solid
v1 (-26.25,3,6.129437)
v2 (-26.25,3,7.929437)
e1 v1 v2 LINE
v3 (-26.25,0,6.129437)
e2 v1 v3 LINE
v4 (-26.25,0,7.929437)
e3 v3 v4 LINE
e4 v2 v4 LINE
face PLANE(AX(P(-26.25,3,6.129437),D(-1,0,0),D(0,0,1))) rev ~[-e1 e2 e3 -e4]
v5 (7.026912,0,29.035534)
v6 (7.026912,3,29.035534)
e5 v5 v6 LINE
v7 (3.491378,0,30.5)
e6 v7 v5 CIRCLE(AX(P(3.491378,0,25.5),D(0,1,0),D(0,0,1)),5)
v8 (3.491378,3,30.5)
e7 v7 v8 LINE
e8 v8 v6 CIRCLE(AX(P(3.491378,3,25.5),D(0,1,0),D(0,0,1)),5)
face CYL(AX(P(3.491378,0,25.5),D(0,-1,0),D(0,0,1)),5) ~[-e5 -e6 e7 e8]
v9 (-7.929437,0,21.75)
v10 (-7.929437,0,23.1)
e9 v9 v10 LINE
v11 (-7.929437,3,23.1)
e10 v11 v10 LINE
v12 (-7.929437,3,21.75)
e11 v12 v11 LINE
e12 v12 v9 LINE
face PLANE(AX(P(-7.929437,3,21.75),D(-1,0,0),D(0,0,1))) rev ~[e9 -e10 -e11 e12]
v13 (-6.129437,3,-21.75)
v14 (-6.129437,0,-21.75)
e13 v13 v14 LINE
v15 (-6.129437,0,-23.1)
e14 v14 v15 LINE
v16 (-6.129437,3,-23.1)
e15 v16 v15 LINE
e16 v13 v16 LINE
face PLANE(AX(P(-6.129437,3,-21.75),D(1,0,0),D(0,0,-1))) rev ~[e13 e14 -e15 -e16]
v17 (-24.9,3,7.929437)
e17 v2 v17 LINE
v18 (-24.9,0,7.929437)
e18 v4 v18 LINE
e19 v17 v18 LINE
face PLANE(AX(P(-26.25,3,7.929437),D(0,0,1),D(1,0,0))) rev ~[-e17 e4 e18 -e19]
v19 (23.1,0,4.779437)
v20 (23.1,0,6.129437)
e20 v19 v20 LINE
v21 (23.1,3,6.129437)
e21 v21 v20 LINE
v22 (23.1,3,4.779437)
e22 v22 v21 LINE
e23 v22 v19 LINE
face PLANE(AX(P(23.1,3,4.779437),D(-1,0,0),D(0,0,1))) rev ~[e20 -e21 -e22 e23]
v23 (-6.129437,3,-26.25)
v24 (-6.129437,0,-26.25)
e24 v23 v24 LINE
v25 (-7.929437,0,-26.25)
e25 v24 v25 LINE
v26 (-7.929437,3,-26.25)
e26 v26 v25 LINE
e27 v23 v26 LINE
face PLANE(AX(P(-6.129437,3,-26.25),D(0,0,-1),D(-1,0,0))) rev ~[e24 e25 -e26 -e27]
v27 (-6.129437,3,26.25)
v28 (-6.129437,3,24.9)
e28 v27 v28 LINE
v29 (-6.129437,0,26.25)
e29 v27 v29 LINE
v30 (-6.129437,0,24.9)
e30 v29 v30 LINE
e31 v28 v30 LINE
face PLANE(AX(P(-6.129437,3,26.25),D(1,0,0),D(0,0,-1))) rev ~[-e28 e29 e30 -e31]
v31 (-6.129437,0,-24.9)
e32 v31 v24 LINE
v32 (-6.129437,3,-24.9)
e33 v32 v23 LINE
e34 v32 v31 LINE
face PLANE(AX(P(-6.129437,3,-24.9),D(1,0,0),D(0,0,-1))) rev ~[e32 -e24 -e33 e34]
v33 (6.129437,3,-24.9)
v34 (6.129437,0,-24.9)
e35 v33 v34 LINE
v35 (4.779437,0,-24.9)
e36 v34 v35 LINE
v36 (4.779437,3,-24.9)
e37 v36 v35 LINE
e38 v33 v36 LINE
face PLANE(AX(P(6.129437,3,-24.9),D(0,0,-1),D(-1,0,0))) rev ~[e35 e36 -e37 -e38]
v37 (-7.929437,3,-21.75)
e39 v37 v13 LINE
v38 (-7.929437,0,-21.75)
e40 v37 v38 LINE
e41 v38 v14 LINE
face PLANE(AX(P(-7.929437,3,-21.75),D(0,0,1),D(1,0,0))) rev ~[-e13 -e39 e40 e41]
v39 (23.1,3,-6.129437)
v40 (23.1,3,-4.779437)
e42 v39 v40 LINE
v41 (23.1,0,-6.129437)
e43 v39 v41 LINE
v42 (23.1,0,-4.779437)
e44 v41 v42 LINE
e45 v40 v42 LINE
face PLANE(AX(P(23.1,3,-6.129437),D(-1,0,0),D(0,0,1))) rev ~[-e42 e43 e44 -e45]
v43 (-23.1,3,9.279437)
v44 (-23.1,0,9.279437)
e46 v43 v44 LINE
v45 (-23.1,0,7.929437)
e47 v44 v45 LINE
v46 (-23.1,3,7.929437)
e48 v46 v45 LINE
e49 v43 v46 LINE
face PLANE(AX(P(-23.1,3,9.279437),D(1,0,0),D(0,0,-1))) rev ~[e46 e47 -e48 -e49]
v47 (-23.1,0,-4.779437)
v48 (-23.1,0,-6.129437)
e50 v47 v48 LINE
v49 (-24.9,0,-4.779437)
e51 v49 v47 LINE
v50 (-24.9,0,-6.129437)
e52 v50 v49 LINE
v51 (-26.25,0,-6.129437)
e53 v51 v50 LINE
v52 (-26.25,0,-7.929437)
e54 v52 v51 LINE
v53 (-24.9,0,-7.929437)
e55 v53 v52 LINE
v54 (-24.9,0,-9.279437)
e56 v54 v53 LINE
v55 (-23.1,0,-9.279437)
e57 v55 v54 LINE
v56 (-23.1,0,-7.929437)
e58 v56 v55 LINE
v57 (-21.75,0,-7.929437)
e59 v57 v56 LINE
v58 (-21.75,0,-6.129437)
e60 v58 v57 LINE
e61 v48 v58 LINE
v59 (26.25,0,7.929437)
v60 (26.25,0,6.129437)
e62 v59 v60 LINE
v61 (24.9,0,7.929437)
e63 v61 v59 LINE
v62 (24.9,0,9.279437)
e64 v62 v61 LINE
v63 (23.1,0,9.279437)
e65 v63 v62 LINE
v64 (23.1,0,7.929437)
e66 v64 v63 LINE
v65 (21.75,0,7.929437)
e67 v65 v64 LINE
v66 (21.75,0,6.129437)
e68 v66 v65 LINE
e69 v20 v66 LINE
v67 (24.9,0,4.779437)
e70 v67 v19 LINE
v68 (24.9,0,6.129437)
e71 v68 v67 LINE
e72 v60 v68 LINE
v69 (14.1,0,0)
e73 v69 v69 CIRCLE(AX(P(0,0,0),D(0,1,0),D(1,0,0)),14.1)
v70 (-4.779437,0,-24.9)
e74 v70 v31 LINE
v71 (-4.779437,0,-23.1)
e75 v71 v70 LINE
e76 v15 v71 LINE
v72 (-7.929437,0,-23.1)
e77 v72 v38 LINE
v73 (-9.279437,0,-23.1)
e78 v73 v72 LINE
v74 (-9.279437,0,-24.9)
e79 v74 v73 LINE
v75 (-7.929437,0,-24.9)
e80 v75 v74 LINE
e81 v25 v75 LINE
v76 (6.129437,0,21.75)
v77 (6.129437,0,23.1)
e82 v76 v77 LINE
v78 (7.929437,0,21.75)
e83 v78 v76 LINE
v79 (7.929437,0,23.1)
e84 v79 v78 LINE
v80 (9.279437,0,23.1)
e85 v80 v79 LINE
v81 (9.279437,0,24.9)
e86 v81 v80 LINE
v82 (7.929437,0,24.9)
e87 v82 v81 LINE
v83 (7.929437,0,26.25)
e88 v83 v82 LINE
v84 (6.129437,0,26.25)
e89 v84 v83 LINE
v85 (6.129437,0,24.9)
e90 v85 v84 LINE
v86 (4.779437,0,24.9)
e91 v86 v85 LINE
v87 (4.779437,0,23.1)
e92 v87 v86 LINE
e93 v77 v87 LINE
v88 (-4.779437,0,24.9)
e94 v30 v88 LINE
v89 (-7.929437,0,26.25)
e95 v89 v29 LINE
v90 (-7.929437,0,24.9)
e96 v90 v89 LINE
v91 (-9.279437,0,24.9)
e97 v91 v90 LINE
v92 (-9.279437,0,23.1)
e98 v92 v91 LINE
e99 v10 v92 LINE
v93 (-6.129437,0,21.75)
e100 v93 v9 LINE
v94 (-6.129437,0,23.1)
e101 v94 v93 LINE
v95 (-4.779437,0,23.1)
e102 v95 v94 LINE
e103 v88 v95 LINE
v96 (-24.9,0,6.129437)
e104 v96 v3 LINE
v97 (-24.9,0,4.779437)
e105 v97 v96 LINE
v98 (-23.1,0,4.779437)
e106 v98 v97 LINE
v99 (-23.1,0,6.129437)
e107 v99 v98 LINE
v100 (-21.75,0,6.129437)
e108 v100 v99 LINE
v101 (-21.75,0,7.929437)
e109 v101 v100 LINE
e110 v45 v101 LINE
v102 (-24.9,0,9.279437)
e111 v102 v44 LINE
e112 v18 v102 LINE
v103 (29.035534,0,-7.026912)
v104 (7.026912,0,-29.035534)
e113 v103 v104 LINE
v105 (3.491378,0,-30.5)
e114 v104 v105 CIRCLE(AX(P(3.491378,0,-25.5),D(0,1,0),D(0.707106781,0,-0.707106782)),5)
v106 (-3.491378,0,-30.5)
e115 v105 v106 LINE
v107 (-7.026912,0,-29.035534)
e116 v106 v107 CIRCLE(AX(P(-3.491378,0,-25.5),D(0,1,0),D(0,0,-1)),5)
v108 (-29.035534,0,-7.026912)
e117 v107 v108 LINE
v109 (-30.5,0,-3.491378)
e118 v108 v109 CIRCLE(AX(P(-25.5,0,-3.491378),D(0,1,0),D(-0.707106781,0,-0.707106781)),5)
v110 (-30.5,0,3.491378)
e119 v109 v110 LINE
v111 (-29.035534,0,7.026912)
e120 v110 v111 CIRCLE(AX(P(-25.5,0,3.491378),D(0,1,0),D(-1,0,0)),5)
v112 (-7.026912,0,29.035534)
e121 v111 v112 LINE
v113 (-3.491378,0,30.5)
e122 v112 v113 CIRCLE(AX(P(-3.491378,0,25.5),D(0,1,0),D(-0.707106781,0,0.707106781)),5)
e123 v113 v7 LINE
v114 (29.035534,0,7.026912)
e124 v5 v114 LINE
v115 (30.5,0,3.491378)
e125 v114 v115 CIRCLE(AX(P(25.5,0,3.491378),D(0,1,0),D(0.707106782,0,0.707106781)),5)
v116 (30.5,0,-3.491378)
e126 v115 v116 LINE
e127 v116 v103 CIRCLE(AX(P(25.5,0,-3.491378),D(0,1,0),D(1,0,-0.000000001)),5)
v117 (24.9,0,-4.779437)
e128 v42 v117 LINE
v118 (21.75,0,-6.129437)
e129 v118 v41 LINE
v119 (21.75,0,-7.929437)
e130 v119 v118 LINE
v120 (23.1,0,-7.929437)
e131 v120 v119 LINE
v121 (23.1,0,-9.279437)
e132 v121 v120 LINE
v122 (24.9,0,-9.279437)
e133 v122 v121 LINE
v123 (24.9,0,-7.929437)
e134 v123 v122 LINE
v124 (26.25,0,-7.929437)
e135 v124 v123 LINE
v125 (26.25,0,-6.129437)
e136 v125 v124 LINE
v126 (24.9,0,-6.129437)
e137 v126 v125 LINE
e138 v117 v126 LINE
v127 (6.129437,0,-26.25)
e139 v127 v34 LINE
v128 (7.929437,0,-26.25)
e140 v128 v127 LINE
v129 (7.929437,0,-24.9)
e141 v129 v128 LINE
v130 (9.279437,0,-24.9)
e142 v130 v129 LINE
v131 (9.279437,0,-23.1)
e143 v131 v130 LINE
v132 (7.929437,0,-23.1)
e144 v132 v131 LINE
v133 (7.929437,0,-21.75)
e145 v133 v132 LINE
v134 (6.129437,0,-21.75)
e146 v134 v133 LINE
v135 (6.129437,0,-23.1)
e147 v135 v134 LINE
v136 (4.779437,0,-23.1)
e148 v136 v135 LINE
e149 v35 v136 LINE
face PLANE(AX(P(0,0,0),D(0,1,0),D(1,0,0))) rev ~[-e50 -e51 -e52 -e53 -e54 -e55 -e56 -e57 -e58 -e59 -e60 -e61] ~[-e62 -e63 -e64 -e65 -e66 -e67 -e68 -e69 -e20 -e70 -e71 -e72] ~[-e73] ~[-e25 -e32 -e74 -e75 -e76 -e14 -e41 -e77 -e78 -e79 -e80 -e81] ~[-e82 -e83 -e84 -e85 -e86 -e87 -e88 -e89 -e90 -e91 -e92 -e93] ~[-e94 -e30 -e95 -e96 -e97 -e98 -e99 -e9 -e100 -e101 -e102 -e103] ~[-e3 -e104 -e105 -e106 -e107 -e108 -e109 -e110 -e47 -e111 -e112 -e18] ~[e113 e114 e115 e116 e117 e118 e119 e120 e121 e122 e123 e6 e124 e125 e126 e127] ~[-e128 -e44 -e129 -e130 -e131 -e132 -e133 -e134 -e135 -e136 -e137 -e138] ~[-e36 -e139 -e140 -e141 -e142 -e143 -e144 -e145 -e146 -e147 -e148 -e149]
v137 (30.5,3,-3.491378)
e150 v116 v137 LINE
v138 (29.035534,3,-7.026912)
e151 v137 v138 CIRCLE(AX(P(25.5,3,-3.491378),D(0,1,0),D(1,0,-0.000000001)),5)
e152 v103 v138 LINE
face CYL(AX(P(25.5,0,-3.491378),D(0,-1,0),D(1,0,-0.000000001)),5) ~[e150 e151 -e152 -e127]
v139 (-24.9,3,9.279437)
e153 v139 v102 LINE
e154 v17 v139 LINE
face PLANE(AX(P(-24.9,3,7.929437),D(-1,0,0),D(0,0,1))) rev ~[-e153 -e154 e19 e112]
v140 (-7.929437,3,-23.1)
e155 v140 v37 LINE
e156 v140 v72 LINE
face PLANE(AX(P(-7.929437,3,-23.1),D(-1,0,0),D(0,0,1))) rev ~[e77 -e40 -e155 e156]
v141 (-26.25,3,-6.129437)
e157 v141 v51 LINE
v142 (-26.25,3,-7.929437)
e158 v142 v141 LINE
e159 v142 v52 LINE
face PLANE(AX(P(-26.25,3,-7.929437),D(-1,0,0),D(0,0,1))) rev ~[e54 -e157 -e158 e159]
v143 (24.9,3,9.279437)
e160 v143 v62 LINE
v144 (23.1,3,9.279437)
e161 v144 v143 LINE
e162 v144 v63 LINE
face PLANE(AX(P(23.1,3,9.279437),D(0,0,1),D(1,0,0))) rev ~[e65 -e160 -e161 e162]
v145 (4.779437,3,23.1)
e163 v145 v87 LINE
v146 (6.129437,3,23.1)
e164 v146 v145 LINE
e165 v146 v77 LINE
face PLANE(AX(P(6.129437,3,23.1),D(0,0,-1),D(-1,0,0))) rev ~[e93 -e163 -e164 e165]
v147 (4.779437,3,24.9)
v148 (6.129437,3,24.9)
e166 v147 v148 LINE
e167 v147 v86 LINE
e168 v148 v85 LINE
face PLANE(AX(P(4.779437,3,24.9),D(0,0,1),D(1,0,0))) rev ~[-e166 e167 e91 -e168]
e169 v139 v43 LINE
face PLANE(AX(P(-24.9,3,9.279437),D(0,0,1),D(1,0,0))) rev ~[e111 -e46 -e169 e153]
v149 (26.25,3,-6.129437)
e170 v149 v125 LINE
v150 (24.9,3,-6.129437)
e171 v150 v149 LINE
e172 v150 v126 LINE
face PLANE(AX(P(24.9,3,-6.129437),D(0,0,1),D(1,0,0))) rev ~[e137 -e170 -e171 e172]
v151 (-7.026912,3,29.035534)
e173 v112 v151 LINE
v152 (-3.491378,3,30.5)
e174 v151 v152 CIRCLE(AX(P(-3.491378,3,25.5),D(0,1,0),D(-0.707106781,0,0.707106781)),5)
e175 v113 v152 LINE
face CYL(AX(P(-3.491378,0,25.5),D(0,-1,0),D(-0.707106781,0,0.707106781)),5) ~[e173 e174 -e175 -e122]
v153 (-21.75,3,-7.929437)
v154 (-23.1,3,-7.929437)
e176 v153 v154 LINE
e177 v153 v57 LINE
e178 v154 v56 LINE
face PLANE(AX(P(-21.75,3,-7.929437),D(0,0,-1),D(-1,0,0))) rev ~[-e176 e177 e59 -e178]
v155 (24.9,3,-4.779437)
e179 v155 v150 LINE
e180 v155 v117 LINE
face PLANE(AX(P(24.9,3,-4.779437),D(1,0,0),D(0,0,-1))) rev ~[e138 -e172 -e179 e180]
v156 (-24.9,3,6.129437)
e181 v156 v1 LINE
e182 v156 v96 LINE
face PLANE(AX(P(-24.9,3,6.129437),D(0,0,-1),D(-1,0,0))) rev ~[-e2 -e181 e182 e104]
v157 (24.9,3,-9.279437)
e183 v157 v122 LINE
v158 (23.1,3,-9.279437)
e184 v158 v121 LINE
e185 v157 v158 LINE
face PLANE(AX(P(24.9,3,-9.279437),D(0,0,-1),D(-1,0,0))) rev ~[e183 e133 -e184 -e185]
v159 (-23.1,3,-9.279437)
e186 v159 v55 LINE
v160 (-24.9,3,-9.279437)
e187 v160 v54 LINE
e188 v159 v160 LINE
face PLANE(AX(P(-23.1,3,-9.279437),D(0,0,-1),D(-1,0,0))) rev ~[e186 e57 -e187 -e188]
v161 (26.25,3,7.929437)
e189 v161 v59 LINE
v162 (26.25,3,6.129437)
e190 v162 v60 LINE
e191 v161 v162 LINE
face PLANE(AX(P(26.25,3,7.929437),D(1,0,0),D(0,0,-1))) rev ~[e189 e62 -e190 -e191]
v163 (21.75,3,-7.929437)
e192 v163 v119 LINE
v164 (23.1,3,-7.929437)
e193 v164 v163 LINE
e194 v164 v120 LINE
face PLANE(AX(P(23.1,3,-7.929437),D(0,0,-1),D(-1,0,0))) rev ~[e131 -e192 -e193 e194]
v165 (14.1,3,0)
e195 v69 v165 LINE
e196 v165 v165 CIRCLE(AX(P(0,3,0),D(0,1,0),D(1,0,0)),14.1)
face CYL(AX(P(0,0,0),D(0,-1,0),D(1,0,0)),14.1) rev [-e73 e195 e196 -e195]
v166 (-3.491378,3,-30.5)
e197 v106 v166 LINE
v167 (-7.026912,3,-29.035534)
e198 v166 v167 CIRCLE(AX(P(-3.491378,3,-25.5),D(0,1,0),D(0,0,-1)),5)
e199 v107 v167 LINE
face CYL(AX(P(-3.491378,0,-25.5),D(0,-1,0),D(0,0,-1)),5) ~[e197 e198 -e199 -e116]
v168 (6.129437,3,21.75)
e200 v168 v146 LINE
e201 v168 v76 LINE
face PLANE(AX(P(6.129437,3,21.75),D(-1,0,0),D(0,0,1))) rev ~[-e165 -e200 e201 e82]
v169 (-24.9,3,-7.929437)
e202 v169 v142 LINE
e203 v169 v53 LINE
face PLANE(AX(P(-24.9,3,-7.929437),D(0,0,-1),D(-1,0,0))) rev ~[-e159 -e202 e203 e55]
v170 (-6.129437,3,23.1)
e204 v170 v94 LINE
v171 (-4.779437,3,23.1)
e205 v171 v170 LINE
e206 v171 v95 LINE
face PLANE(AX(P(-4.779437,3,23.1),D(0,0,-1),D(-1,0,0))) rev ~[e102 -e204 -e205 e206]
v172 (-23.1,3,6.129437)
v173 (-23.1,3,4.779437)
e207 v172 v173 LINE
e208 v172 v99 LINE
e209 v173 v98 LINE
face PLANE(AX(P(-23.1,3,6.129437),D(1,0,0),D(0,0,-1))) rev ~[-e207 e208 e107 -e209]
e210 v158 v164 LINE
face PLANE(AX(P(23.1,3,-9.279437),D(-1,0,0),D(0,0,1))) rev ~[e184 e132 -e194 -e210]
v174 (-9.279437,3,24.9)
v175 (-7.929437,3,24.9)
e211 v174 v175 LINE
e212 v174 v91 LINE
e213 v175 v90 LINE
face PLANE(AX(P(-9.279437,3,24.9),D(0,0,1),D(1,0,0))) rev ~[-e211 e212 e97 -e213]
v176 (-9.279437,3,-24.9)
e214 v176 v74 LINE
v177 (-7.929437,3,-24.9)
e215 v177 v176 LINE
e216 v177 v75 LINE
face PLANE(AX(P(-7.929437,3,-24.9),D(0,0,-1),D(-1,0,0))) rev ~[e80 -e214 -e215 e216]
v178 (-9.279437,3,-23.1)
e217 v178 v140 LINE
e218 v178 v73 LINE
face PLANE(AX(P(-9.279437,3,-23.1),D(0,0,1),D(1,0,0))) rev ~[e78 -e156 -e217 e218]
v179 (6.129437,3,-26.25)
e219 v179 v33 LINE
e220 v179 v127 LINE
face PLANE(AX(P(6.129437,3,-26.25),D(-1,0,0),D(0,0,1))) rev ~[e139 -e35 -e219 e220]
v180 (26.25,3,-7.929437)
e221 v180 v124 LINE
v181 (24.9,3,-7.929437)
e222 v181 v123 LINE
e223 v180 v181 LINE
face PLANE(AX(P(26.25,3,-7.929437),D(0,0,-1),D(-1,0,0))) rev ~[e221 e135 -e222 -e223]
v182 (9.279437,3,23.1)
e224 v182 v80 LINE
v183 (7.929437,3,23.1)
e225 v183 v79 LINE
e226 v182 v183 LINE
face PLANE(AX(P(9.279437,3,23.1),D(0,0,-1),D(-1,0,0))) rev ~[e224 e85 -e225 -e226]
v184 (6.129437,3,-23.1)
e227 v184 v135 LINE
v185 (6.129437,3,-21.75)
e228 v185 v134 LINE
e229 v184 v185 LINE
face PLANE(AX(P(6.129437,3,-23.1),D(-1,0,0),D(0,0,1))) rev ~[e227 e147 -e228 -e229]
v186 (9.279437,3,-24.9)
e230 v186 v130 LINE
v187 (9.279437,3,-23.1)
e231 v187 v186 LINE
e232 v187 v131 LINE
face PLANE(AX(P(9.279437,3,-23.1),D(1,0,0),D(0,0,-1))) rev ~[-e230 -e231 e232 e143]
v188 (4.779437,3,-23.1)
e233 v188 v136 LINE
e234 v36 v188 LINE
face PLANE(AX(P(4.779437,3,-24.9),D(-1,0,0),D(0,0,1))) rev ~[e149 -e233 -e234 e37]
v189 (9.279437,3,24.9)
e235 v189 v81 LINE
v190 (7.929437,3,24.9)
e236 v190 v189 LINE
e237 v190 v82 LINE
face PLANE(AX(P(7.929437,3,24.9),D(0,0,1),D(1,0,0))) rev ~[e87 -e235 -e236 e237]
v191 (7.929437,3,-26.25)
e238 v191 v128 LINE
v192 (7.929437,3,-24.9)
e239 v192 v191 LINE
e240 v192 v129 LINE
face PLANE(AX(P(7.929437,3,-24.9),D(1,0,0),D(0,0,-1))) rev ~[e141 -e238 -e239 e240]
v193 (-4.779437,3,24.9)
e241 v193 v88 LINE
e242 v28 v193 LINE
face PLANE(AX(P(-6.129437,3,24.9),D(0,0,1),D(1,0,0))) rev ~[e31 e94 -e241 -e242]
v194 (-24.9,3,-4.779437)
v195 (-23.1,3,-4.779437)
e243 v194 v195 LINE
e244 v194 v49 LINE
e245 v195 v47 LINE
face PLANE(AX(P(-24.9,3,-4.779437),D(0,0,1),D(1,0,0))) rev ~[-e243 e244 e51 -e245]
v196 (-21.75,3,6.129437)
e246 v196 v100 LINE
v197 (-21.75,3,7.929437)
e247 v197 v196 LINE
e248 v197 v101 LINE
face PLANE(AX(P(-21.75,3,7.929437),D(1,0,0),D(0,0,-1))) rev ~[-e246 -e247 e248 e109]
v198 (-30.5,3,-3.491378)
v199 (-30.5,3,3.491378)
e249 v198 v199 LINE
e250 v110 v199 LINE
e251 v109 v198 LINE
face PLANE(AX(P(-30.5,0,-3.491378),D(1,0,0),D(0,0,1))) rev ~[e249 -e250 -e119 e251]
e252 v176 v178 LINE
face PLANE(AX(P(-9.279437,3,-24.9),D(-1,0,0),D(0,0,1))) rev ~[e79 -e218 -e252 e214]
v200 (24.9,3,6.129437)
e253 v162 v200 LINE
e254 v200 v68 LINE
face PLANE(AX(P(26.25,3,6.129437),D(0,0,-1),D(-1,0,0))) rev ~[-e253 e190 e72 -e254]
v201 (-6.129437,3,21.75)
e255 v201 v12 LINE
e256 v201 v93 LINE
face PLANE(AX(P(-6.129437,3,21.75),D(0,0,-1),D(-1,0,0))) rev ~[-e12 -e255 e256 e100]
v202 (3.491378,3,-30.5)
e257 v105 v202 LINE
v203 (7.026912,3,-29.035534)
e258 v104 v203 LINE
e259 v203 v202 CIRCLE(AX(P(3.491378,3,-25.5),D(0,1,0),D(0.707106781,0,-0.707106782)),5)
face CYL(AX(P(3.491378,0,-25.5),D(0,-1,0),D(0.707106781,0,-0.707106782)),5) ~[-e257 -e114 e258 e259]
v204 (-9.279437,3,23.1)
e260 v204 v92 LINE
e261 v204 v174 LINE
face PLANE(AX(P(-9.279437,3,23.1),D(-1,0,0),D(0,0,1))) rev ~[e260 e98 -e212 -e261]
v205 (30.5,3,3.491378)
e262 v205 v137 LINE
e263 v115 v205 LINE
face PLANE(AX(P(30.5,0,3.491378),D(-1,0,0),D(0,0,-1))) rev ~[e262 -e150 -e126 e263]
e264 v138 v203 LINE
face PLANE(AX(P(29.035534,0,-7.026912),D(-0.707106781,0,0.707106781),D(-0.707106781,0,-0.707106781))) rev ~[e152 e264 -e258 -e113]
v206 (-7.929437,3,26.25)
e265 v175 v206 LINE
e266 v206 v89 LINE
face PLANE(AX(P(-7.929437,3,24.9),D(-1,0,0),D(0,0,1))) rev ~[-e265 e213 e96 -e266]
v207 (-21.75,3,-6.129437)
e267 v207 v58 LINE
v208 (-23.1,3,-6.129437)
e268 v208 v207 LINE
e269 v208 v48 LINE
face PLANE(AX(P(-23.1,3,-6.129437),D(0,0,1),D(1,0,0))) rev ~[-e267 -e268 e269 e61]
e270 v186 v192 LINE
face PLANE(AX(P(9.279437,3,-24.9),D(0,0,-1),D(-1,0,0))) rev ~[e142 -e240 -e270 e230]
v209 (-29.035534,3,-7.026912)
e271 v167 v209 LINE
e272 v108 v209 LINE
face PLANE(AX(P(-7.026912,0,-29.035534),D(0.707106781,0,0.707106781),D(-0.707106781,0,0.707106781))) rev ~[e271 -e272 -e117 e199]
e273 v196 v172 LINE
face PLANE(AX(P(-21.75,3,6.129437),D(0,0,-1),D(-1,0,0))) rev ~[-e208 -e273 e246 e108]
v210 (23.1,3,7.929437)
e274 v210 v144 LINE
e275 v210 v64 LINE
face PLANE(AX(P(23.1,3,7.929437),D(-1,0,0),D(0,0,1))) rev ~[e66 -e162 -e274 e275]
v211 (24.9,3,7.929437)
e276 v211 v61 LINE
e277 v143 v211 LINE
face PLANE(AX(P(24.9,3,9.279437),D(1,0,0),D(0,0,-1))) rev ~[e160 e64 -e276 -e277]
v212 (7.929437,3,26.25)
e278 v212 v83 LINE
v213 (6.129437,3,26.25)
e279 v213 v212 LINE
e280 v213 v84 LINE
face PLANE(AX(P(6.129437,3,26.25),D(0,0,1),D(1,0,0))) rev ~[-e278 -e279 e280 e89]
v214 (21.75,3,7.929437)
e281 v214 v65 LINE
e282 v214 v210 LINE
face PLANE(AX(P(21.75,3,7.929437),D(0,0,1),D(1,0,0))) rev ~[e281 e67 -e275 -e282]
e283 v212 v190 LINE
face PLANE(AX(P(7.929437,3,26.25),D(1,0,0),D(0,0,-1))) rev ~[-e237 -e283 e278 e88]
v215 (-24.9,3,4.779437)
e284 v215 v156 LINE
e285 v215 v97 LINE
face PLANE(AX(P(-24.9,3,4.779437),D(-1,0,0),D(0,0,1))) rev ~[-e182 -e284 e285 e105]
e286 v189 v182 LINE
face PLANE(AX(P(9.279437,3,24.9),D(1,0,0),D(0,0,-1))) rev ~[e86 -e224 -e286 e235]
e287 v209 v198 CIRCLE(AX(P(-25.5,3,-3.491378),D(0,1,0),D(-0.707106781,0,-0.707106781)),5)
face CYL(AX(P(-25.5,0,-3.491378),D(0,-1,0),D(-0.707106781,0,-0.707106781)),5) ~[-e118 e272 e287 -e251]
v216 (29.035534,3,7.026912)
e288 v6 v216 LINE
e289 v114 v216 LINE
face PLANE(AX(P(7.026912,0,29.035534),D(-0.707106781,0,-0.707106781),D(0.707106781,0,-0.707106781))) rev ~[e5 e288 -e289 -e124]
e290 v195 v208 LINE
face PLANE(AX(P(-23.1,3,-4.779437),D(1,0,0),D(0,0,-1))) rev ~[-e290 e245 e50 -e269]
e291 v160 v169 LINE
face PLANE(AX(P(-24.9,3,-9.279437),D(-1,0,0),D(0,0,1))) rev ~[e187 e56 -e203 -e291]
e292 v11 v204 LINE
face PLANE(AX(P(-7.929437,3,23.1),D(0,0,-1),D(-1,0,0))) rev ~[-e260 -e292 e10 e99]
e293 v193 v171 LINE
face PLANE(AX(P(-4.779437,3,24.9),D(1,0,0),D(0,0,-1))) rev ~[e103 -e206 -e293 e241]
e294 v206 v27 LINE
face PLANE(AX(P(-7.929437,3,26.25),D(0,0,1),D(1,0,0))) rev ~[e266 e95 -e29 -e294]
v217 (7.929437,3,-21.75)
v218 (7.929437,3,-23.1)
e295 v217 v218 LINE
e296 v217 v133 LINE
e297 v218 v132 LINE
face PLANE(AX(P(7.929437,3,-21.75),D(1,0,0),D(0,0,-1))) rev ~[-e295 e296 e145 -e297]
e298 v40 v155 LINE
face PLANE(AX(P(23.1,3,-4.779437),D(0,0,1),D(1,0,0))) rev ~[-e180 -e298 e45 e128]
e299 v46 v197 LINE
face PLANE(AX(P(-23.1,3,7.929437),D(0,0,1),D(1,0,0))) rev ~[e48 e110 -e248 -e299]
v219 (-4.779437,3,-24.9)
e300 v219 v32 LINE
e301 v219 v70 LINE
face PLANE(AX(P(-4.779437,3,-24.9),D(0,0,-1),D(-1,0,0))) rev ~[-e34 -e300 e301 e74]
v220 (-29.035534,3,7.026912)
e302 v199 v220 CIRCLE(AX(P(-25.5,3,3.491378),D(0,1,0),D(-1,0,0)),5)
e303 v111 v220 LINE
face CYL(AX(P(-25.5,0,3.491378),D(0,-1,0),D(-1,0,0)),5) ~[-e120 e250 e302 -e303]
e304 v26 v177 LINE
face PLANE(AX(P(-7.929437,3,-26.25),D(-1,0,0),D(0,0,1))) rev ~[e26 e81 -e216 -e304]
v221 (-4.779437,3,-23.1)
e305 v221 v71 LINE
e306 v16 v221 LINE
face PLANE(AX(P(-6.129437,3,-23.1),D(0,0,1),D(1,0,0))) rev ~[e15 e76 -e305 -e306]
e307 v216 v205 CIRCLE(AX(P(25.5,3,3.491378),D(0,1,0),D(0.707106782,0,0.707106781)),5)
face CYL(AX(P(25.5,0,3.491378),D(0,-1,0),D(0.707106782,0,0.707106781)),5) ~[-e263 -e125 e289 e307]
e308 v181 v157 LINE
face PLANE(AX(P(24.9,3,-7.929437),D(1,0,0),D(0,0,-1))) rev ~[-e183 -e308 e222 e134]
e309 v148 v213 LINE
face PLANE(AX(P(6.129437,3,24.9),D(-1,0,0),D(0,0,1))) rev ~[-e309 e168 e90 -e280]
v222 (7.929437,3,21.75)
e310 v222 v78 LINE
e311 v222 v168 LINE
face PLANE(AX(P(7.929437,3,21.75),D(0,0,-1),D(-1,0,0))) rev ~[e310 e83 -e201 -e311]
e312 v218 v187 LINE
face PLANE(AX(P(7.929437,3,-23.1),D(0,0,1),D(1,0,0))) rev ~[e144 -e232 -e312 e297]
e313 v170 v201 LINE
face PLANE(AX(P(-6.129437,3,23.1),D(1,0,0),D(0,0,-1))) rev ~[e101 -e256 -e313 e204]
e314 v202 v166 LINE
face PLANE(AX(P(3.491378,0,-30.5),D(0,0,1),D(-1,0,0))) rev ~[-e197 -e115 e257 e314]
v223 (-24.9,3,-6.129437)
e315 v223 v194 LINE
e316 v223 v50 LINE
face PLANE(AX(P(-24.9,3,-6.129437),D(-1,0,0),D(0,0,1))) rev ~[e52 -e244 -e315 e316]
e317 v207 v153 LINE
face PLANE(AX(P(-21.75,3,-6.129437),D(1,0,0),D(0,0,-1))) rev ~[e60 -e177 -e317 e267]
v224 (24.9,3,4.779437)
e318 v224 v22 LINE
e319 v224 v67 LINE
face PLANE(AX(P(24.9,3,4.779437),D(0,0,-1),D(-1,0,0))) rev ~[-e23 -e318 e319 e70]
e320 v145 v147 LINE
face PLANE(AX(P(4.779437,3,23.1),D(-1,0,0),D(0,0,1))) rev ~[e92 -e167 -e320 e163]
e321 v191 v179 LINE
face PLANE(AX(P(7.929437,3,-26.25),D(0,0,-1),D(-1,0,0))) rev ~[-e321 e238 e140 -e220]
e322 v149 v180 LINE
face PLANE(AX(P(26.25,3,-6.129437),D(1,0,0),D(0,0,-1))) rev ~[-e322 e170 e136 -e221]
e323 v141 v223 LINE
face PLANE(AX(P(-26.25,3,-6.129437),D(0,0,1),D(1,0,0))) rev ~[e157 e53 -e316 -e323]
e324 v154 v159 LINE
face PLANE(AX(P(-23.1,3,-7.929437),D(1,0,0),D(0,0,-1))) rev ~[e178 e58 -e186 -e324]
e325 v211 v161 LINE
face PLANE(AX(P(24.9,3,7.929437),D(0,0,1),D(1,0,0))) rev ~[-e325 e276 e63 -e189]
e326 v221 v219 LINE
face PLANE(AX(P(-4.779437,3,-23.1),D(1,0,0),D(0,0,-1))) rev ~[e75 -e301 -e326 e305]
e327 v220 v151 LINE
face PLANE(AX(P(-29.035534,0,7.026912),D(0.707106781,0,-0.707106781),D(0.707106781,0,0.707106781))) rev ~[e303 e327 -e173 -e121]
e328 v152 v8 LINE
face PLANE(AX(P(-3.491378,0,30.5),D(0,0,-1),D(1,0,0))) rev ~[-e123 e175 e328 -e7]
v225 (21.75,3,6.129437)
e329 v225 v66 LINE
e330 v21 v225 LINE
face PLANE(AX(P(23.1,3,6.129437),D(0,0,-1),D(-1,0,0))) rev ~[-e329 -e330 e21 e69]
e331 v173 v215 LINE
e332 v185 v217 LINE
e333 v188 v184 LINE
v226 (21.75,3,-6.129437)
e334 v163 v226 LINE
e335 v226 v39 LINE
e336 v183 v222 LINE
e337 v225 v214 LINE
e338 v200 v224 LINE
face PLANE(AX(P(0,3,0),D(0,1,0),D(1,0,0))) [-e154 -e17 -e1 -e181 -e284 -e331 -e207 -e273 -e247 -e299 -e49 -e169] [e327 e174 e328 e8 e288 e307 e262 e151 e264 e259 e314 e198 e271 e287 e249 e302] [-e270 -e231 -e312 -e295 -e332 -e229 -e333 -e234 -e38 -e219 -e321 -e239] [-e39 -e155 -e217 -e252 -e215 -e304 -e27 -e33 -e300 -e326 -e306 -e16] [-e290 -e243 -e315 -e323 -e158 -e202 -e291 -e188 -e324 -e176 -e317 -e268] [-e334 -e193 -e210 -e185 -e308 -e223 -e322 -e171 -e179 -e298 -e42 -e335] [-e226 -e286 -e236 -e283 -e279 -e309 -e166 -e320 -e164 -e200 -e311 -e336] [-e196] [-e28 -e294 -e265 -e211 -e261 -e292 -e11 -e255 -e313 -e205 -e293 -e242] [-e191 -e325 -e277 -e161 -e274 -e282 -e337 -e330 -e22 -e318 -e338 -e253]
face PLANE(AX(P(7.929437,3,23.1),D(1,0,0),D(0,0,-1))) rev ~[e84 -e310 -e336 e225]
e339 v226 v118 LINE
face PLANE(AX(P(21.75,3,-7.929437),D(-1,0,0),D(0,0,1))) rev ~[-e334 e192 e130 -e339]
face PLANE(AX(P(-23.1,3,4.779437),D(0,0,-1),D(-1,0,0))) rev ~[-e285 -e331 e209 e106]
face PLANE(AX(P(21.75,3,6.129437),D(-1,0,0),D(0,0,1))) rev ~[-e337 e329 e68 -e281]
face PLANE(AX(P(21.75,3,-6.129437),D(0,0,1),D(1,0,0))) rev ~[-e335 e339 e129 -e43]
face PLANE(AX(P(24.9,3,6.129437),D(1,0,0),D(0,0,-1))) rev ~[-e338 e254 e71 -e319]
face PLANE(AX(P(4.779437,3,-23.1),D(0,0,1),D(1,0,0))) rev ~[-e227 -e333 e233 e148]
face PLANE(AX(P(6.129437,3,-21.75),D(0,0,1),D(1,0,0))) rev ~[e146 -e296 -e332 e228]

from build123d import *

# Parameters (mm, degrees)
SKETCH1_R           = 14.1
BOSS_EXTRUDE1_DEPTH = 3
CUT_EXTRUDE1_DEPTH  = 4


with BuildPart() as part:
    # Sketch1 → Boss-Extrude1 (new body)
    with BuildSketch(Plane(origin=(0, 0, 0), x_dir=(1, 0, 0), z_dir=(0, 1, 0))):
        with BuildLine():
            Line((3.491378029, 30.5), (-3.491378029, 30.5))
            ThreePointArc((-3.491378029, 30.5), (-5.40479519, 30.119397663), (-7.026911935, 29.035533906))
            Line((-7.026911935, 29.035533906), (-29.035533906, 7.026911935))
            ThreePointArc((-29.035533906, 7.026911935), (-30.119397663, 5.40479519), (-30.5, 3.491378029))
            Line((-30.5, 3.491378029), (-30.5, -3.491378029))
            ThreePointArc((-30.5, -3.491378029), (-30.119397663, -5.40479519), (-29.035533906, -7.026911935))
            Line((-29.035533906, -7.026911935), (-7.026911935, -29.035533906))
            ThreePointArc((-7.026911935, -29.035533906), (-5.40479519, -30.119397663), (-3.491378029, -30.5))
            Line((-3.491378029, -30.5), (3.491378029, -30.5))
            ThreePointArc((3.491378029, -30.5), (5.40479519, -30.119397663), (7.026911935, -29.035533906))
            Line((7.026911935, -29.035533906), (29.035533906, -7.026911935))
            ThreePointArc((29.035533906, -7.026911935), (30.119397662, -5.404795191), (30.5, -3.491378029))
            Line((30.5, -3.491378029), (30.5, 3.491378029))
            ThreePointArc((30.5, 3.491378029), (30.119397662, 5.40479519), (29.035533906, 7.026911934))
            Line((29.035533906, 7.026911934), (7.026911934, 29.035533906))
            ThreePointArc((7.026911934, 29.035533906), (5.40479519, 30.119397662), (3.491378029, 30.5))
        make_face()
        Circle(SKETCH1_R, mode=Mode.SUBTRACT)
    extrude(amount=BOSS_EXTRUDE1_DEPTH)

    # Sketch2 → Cut-Extrude1 (cut, through all)
    with BuildSketch(Plane(origin=(0, 3, 0), x_dir=(1, 0, 0), z_dir=(0, 1, 0))):
        Polygon((-26.25, 7.929437252), (-26.25, 6.129437252), (-24.9, 6.129437252), (-24.9, 4.779437252), (-23.1, 4.779437252), (-23.1, 6.129437252), (-21.75, 6.129437252), (-21.75, 7.929437252), (-23.1, 7.929437252), (-23.1, 9.279437252), (-24.9, 9.279437252), (-24.9, 7.929437252), align=None)
        Polygon((-23.1, -4.779437252), (-24.9, -4.779437252), (-24.9, -6.129437252), (-26.25, -6.129437252), (-26.25, -7.929437252), (-24.9, -7.929437252), (-24.9, -9.279437252), (-23.1, -9.279437252), (-23.1, -7.929437252), (-21.75, -7.929437252), (-21.75, -6.129437252), (-23.1, -6.129437252), align=None)
        Polygon((7.929437252, 23.1), (9.279437252, 23.1), (9.279437252, 24.9), (7.929437252, 24.9), (7.929437252, 26.25), (6.129437252, 26.25), (6.129437252, 24.9), (4.779437252, 24.9), (4.779437252, 23.1), (6.129437252, 23.1), (6.129437252, 21.75), (7.929437252, 21.75), align=None)
        Polygon((26.25, -7.929437252), (26.25, -6.129437252), (24.9, -6.129437252), (24.9, -4.779437252), (23.1, -4.779437252), (23.1, -6.129437252), (21.75, -6.129437252), (21.75, -7.929437252), (23.1, -7.929437252), (23.1, -9.279437252), (24.9, -9.279437252), (24.9, -7.929437252), align=None)
        Polygon((-4.779437252, 24.9), (-6.129437252, 24.9), (-6.129437252, 26.25), (-7.929437252, 26.25), (-7.929437252, 24.9), (-9.279437252, 24.9), (-9.279437252, 23.1), (-7.929437252, 23.1), (-7.929437252, 21.75), (-6.129437252, 21.75), (-6.129437252, 23.1), (-4.779437252, 23.1), align=None)
        Polygon((26.25, 7.929437252), (24.9, 7.929437252), (24.9, 9.279437252), (23.1, 9.279437252), (23.1, 7.929437252), (21.75, 7.929437252), (21.75, 6.129437252), (23.1, 6.129437252), (23.1, 4.779437252), (24.9, 4.779437252), (24.9, 6.129437252), (26.25, 6.129437252), align=None)
        Polygon((-6.129437252, -26.25), (-6.129437252, -24.9), (-4.779437252, -24.9), (-4.779437252, -23.1), (-6.129437252, -23.1), (-6.129437252, -21.75), (-7.929437252, -21.75), (-7.929437252, -23.1), (-9.279437252, -23.1), (-9.279437252, -24.9), (-7.929437252, -24.9), (-7.929437252, -26.25), align=None)
        Polygon((7.929437252, -26.25), (7.929437252, -24.9), (9.279437252, -24.9), (9.279437252, -23.1), (7.929437252, -23.1), (7.929437252, -21.75), (6.129437252, -21.75), (6.129437252, -23.1), (4.779437252, -23.1), (4.779437252, -24.9), (6.129437252, -24.9), (6.129437252, -26.25), align=None)
    extrude(amount=-CUT_EXTRUDE1_DEPTH, mode=Mode.SUBTRACT)


solid = part.part
